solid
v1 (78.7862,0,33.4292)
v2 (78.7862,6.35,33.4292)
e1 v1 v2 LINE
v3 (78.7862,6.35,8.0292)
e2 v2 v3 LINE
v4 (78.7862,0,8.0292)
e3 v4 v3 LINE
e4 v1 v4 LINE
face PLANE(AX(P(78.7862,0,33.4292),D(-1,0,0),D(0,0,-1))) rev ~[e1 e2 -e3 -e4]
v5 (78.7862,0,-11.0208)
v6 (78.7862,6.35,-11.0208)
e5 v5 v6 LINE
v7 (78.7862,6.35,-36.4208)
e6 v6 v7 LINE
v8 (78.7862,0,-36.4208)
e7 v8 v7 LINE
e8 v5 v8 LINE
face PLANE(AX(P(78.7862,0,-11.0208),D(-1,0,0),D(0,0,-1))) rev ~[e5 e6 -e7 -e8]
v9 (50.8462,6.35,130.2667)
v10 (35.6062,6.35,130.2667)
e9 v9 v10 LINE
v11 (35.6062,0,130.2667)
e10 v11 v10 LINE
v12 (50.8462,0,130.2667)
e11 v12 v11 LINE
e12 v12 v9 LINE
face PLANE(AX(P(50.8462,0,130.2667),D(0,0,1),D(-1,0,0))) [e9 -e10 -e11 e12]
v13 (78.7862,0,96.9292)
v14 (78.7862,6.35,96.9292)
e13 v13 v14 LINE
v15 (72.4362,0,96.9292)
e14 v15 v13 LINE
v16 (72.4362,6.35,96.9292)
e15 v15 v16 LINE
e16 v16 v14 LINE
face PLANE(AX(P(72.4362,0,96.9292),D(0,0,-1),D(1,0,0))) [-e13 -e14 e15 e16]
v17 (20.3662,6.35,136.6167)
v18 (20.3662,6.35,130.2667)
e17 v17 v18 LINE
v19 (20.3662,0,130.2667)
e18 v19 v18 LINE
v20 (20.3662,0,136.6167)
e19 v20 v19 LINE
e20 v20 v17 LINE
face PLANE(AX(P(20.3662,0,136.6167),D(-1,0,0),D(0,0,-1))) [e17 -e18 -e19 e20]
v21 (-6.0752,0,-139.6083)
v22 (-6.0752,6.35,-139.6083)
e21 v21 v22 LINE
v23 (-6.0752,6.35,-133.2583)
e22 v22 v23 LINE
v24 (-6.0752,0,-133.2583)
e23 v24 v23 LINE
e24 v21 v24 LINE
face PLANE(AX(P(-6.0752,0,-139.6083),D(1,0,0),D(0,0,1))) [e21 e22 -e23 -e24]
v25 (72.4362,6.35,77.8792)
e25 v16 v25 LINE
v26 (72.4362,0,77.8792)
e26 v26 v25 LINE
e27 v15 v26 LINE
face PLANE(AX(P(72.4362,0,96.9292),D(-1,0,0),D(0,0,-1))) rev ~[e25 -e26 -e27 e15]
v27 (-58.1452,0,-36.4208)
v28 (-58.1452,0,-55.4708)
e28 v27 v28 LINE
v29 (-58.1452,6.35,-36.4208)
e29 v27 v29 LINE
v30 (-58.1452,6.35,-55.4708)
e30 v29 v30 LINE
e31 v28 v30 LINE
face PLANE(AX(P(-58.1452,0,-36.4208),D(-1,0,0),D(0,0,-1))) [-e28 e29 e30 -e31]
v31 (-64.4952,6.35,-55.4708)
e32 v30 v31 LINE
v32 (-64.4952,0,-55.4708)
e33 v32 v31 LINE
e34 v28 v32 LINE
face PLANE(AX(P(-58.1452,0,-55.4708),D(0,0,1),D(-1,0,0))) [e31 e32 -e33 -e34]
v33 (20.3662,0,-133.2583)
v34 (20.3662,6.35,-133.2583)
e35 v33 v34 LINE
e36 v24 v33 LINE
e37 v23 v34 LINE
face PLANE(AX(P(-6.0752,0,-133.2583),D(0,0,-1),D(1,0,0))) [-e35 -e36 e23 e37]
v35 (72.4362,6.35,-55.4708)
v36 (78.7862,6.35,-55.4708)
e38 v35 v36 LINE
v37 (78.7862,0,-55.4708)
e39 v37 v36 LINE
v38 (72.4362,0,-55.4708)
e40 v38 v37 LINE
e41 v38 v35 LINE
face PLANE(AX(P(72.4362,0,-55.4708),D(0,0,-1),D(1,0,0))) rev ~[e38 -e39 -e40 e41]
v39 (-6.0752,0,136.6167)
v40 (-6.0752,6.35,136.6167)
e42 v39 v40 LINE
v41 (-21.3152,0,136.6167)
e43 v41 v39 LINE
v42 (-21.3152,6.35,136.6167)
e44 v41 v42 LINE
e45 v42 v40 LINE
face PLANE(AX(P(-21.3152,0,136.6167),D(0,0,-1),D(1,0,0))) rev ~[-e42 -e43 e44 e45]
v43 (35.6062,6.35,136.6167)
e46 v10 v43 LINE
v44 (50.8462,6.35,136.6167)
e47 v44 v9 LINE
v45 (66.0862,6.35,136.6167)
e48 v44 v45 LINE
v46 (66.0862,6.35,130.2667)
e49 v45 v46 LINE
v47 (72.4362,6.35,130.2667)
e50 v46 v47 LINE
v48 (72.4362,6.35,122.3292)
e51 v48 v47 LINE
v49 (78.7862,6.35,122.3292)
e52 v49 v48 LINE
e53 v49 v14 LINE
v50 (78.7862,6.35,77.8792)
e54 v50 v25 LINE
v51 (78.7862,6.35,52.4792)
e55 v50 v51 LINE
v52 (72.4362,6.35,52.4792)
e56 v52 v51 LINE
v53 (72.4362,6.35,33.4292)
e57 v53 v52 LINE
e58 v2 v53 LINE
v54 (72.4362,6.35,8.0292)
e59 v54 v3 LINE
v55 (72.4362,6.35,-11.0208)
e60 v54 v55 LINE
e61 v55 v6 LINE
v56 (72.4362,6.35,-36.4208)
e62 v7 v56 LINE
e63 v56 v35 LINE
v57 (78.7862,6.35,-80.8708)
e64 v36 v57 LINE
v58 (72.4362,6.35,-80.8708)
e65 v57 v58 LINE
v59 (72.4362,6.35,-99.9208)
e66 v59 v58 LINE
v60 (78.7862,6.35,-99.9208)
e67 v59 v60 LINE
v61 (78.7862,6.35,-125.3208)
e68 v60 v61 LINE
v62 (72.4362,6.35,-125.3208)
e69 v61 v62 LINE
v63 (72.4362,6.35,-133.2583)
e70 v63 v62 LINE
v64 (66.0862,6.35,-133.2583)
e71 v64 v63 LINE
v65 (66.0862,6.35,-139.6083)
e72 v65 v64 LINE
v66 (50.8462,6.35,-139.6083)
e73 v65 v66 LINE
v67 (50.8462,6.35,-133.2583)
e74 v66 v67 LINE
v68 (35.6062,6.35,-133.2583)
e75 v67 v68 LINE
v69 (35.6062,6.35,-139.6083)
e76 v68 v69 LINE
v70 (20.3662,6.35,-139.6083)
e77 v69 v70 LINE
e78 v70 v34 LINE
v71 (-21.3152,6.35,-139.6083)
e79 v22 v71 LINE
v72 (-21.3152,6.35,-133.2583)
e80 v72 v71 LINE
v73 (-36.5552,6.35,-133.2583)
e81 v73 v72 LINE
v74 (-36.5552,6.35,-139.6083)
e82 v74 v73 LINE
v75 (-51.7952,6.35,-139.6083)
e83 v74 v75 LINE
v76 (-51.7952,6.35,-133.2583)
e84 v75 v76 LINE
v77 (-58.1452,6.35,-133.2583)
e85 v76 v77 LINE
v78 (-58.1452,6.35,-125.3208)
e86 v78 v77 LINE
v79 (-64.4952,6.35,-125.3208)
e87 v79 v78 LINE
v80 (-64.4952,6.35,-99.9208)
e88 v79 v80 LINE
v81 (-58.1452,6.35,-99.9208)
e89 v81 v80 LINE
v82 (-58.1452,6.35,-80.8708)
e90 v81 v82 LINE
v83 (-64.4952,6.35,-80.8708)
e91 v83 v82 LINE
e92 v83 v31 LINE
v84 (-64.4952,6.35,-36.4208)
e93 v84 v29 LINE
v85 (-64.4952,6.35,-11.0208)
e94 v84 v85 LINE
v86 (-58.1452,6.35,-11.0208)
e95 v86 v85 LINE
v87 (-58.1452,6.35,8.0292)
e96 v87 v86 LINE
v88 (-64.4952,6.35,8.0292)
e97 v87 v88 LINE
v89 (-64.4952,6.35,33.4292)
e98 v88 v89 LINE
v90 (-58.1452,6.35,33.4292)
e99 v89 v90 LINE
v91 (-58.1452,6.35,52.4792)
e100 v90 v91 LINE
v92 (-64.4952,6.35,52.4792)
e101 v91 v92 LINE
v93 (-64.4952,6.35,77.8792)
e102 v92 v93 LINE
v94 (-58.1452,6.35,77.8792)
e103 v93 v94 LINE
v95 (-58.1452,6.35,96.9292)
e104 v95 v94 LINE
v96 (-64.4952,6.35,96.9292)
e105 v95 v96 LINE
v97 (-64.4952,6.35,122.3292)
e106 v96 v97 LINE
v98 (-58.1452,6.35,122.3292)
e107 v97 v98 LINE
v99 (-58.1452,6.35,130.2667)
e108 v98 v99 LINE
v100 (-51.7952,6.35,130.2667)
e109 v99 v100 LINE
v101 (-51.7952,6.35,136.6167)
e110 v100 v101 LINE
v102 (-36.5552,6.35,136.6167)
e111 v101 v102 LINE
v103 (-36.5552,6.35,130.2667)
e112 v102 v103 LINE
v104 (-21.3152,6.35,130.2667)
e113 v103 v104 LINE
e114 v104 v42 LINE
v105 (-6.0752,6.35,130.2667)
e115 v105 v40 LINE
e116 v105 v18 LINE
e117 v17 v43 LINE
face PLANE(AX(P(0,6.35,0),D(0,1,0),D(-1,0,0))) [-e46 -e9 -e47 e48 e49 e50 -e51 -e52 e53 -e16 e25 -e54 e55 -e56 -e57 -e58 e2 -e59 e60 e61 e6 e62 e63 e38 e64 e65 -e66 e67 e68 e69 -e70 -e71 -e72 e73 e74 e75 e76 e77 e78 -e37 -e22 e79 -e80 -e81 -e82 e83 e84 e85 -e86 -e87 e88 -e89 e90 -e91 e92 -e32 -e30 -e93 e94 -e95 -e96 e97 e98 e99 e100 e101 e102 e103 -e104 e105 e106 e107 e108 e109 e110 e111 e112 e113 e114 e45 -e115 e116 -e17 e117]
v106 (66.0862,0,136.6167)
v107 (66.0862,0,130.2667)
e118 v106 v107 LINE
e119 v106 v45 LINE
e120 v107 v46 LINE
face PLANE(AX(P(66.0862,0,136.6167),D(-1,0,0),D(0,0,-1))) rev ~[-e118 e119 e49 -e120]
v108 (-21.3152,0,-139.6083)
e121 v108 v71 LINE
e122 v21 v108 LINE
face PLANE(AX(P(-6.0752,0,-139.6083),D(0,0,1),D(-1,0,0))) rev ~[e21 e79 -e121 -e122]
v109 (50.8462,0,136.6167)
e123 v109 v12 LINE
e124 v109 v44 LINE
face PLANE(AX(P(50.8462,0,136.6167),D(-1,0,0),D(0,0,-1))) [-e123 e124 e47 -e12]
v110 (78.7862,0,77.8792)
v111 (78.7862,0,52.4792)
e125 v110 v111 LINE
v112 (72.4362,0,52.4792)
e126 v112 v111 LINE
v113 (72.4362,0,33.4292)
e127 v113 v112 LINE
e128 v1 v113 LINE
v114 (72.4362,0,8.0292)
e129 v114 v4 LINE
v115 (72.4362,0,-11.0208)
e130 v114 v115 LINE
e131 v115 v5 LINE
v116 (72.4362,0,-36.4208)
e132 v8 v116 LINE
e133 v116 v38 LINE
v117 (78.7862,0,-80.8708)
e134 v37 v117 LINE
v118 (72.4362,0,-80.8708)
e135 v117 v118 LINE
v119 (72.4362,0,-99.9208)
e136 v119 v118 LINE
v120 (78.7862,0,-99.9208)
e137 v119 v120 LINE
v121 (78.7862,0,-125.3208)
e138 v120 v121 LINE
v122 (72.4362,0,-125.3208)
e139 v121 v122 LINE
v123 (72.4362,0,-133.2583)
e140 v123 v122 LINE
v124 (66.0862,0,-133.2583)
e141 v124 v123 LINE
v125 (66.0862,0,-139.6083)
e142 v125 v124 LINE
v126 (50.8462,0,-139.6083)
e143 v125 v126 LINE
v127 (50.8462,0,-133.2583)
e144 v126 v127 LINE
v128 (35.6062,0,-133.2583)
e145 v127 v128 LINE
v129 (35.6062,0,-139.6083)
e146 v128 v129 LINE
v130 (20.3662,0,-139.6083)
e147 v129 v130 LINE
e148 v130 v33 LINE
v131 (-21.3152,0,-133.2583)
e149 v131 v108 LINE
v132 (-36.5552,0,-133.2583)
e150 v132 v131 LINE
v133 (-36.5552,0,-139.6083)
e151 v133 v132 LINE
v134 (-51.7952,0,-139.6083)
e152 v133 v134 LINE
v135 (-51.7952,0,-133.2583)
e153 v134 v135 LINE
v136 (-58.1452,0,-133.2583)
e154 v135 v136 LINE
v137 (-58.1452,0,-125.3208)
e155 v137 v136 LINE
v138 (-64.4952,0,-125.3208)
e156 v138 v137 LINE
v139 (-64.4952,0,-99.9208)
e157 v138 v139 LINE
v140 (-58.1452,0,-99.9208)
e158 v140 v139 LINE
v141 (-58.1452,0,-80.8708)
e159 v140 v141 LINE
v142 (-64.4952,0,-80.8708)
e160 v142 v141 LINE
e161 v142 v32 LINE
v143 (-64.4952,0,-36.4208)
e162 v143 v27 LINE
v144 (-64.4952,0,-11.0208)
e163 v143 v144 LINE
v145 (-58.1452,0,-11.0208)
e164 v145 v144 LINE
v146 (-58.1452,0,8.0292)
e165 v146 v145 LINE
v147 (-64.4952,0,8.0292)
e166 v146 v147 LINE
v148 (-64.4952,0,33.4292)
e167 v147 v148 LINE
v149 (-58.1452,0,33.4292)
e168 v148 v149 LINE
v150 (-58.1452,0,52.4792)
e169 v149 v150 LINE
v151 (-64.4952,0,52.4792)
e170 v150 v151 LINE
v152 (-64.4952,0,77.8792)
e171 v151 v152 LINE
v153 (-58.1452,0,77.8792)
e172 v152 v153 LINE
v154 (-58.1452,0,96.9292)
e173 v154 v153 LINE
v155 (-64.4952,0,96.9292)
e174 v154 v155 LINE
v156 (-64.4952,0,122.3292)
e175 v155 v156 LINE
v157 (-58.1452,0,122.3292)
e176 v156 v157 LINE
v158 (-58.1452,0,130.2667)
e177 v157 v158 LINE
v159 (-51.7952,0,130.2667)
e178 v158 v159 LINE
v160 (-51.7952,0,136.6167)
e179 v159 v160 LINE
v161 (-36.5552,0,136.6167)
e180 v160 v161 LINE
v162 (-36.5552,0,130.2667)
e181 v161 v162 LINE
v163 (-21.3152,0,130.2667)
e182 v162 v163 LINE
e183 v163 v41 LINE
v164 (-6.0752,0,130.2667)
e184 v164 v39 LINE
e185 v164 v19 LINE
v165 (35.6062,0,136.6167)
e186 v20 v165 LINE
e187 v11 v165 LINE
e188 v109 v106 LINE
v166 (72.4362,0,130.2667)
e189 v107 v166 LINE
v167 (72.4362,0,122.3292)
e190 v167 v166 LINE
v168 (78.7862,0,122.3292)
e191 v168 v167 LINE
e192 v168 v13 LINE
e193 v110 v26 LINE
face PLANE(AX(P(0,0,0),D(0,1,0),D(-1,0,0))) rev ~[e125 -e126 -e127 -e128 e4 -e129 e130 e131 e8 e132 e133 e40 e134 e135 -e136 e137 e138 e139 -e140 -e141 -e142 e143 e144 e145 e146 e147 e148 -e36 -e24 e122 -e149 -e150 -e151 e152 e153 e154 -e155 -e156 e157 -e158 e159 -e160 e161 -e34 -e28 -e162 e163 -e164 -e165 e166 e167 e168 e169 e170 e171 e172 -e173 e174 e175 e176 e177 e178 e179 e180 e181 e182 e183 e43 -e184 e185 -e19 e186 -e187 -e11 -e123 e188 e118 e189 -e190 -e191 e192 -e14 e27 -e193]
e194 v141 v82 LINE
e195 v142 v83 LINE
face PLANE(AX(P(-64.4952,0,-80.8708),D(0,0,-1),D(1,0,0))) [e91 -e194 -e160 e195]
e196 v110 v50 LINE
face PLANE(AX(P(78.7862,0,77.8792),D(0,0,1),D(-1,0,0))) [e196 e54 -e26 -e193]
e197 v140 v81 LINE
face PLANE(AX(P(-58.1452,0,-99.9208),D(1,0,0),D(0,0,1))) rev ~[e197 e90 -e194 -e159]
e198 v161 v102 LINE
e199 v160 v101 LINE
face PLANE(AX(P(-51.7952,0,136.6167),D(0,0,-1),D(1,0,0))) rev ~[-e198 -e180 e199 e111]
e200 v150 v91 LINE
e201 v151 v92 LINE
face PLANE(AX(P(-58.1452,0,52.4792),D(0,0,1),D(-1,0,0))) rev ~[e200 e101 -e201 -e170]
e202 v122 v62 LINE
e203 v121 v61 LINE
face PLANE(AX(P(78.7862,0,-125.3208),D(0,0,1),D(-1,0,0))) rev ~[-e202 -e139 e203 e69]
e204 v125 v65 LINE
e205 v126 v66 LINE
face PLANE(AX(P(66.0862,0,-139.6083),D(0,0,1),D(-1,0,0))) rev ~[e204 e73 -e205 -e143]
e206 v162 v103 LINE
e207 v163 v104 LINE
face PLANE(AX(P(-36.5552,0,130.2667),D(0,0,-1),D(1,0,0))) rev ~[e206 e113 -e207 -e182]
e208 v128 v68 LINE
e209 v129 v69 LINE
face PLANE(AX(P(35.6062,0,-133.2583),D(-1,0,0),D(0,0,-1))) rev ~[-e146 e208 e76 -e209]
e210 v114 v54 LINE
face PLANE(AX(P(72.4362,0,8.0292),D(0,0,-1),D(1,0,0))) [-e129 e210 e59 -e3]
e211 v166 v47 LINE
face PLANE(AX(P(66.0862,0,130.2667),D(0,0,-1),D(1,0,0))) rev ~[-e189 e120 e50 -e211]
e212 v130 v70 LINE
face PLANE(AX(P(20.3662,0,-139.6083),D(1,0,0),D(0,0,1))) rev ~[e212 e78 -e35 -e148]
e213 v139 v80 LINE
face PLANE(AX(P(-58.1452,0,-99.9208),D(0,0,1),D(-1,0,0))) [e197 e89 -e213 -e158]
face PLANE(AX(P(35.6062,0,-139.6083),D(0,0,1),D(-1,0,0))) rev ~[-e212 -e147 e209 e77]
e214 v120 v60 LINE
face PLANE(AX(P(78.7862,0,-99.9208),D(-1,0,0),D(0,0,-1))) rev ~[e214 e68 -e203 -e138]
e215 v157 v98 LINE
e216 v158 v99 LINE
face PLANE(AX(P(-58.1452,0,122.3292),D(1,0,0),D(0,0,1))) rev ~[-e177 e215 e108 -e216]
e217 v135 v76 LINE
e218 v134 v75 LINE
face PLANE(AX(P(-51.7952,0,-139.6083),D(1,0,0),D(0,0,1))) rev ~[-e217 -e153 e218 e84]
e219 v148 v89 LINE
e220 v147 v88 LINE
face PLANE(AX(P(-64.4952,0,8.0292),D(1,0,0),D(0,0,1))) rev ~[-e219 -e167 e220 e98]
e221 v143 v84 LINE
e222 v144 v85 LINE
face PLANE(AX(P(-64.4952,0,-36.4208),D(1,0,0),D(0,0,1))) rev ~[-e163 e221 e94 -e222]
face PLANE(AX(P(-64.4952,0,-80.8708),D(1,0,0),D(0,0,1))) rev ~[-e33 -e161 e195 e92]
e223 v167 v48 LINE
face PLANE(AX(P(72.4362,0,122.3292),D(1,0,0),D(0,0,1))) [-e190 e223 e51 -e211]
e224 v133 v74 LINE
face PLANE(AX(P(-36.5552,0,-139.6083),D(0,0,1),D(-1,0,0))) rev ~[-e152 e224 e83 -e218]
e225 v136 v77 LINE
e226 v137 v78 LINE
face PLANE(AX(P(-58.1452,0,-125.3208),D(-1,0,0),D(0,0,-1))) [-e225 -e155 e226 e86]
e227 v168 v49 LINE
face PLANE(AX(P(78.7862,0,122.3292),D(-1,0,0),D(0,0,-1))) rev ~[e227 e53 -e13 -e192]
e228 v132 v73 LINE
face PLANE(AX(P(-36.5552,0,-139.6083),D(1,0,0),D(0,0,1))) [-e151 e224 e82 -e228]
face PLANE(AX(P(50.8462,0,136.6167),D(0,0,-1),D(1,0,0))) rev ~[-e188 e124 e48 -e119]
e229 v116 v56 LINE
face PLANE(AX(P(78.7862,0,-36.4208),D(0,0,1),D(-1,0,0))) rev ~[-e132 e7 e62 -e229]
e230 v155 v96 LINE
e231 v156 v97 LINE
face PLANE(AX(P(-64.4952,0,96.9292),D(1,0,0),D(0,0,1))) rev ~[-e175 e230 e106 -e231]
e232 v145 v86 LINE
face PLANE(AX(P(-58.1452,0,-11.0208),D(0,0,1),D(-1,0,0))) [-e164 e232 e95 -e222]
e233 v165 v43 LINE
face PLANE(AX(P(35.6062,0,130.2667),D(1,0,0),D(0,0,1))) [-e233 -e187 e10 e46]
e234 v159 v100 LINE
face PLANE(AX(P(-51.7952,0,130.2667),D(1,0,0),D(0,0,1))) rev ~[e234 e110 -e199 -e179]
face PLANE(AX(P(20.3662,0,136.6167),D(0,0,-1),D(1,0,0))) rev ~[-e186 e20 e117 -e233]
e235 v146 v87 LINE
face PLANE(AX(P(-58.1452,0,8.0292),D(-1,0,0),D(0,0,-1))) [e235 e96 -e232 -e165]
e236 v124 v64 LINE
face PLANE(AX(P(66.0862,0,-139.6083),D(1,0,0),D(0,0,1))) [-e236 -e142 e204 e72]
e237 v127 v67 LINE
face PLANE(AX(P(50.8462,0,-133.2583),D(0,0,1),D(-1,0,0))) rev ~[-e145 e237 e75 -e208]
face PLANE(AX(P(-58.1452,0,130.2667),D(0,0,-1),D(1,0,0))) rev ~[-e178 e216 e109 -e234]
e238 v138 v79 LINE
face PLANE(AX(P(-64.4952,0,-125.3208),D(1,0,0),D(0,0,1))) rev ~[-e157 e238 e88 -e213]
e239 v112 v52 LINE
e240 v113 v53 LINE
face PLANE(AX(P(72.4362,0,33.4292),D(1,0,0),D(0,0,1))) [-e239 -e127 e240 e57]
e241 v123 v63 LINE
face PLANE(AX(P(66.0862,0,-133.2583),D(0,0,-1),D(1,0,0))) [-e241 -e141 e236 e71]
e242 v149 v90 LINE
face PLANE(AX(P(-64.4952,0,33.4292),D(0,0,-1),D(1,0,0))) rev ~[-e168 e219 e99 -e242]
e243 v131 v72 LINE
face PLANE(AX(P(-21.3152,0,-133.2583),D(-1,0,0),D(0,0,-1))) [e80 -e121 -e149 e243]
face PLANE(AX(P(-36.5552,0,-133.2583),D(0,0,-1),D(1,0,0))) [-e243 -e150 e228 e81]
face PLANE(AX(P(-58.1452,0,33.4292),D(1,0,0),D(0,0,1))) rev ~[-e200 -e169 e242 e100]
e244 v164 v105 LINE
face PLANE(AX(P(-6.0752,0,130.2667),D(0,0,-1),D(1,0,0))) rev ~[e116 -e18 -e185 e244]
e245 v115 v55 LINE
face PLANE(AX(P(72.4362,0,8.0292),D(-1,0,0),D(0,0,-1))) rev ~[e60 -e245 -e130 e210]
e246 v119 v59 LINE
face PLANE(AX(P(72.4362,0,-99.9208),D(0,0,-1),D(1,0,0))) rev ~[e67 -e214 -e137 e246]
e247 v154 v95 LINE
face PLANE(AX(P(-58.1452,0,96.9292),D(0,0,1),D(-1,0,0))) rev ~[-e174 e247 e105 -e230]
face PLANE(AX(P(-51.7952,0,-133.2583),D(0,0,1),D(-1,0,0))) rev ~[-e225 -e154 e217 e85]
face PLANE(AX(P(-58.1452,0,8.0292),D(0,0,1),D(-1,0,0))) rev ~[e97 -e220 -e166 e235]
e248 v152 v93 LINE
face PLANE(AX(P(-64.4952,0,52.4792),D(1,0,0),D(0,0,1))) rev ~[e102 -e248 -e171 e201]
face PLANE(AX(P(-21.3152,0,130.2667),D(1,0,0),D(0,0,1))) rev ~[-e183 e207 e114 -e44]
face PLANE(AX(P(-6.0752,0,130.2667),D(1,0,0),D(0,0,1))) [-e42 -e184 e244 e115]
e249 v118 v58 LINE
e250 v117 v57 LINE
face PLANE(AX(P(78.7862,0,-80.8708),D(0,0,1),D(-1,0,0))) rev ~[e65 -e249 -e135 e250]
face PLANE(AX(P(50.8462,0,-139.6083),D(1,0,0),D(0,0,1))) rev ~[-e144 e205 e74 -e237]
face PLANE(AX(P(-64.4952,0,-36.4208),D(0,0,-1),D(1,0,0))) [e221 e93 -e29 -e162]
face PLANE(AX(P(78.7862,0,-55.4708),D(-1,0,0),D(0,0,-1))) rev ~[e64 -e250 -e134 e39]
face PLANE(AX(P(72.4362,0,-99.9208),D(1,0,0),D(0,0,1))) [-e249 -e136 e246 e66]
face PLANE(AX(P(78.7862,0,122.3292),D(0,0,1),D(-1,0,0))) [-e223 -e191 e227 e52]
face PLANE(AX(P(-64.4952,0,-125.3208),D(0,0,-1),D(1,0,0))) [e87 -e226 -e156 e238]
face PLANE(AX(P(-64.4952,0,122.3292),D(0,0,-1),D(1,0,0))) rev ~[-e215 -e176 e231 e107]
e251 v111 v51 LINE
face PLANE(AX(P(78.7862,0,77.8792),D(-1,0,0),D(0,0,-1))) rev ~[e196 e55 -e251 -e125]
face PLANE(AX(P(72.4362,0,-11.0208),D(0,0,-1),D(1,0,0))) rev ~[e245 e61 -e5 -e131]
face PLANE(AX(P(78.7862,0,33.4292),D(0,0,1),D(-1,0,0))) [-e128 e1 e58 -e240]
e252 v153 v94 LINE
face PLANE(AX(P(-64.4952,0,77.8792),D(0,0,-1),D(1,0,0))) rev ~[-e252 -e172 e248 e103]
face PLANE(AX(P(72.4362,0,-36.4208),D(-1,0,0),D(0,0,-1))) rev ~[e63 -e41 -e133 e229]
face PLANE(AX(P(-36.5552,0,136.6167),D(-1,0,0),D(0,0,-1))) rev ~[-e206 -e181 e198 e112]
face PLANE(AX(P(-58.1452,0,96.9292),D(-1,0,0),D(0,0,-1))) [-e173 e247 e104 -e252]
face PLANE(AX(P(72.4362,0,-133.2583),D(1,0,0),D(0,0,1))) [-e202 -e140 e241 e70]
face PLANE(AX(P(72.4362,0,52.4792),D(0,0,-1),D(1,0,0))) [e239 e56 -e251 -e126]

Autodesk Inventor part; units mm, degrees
ref_plane "YZ Plane" through (0, 0, 0) normal (1, 0, 0) x (0, 1, 0)
ref_plane "XZ Plane" through (0, 0, 0) normal (0, 1, 0) x (-1, 0, 0)
ref_plane "XY Plane" through (0, 0, 0) normal (0, 0, 1) x (1, 0, 0)
sketch "Sketch1" plane through (0, 0, 0) normal (0, 1, 0) x (-1, 0, 0)
  line L0 (36.5552, 136.6167) -> (36.5552, 130.2667)
  line L1 (21.3152, 130.2667) -> (21.3152, 136.6167)
  line L2 (58.1452, 96.9292) -> (64.4952, 96.9292)
  line L3 (64.4952, 77.8792) -> (58.1452, 77.8792)
  line L4 (58.1452, 52.4792) -> (64.4952, 52.4792)
  line L5 (64.4952, 33.4292) -> (58.1452, 33.4292)
  line L6 (58.1452, 8.0292) -> (64.4952, 8.0292)
  line L7 (64.4952, -1.4958) -> (-62.2762, -1.4958) construction
  line L8 (-7.1455, 136.6167) -> (-7.1455, -139.6083) construction
  line L9 (58.1452, 96.9292) -> (58.1452, 77.8792)
  line L10 (58.1452, 33.4292) -> (58.1452, 52.4792)
  line L11 (36.5552, 130.2667) -> (21.3152, 130.2667)
  line L12 (-50.8462, 136.6167) -> (-50.8462, 130.2667)
  line L13 (-20.3662, 136.6167) -> (-20.3662, 130.2667)
  line L14 (-35.6062, 130.2667) -> (-35.6062, 136.6167)
  line L15 (-78.7862, 122.3292) -> (-72.4362, 122.3292)
  line L16 (-72.4362, 96.9292) -> (-78.7862, 96.9292)
  line L17 (-78.7862, 77.8792) -> (-72.4362, 77.8792)
  line L18 (-72.4362, 52.4792) -> (-78.7862, 52.4792)
  line L19 (-78.7862, 33.4292) -> (-72.4362, 33.4292)
  line L20 (-72.4362, 8.0292) -> (-78.7862, 8.0292)
  line L21 (-72.4362, 96.9292) -> (-72.4362, 77.8792)
  line L22 (-72.4362, 33.4292) -> (-72.4362, 52.4792)
  line L23 (-50.8462, 130.2667) -> (-35.6062, 130.2667)
  line L24 (36.5552, -139.6083) -> (36.5552, -133.2583)
  line L25 (6.0752, -139.6083) -> (6.0752, -133.2583)
  line L26 (21.3152, -133.2583) -> (21.3152, -139.6083)
  line L27 (64.4952, -125.3208) -> (58.1452, -125.3208)
  line L28 (58.1452, -99.9208) -> (64.4952, -99.9208)
  line L29 (64.4952, -80.8708) -> (58.1452, -80.8708)
  line L30 (58.1452, -55.4708) -> (64.4952, -55.4708)
  line L31 (64.4952, -36.4208) -> (58.1452, -36.4208)
  line L32 (58.1452, -11.0208) -> (64.4952, -11.0208)
  line L33 (-7.1455, -139.6083) -> (-7.1455, 136.6167) construction
  line L34 (58.1452, -99.9208) -> (58.1452, -80.8708)
  line L35 (58.1452, -36.4208) -> (58.1452, -55.4708)
  line L36 (36.5552, -133.2583) -> (21.3152, -133.2583)
  line L37 (-72.4362, -55.4708) -> (-78.7862, -55.4708)
  line L38 (-78.7862, -80.8708) -> (-72.4362, -80.8708)
  line L39 (-72.4362, -99.9208) -> (-72.4362, -80.8708)
  line L40 (-50.8462, -139.6083) -> (-50.8462, -133.2583)
  line L41 (-20.3662, -139.6083) -> (-20.3662, -133.2583)
  line L42 (-35.6062, -133.2583) -> (-35.6062, -139.6083)
  line L43 (-72.4362, -99.9208) -> (-78.7862, -99.9208)
  line L44 (-78.7862, -125.3208) -> (-72.4362, -125.3208)
  line L45 (-50.8462, -133.2583) -> (-35.6062, -133.2583)
  line L46 (-72.4362, -36.4208) -> (-72.4362, -55.4708)
  line L47 (-78.7862, -36.4208) -> (-72.4362, -36.4208)
  line L48 (-72.4362, -11.0208) -> (-78.7862, -11.0208)
  line L49 (51.7952, 136.6167) -> (36.5552, 136.6167)
  line L50 (-20.3662, 136.6167) -> (-35.6062, 136.6167)
  line L51 (-50.8462, 136.6167) -> (-66.0862, 136.6167)
  line L52 (64.4952, 96.9292) -> (64.4952, 122.3292)
  line L53 (64.4952, 52.4792) -> (64.4952, 77.8792)
  line L54 (58.1452, 8.0292) -> (58.1452, -11.0208)
  line L55 (64.4952, 8.0292) -> (64.4952, 33.4292)
  line L56 (64.4952, -36.4208) -> (64.4952, -11.0208)
  line L57 (64.4952, -80.8708) -> (64.4952, -55.4708)
  line L58 (58.1452, -125.3208) -> (58.1452, -133.2583)
  line L59 (-72.4362, -133.2583) -> (-72.4362, -125.3208)
  line L60 (-72.4362, 8.0292) -> (-72.4362, -11.0208)
  line L61 (-72.4362, 122.3292) -> (-72.4362, 130.2667)
  line L62 (-78.7862, 122.3292) -> (-78.7862, 96.9292)
  line L63 (-78.7862, 77.8792) -> (-78.7862, 52.4792)
  line L64 (-78.7862, 33.4292) -> (-78.7862, 8.0292)
  line L65 (-78.7862, -11.0208) -> (-78.7862, -36.4208)
  line L66 (-78.7862, -55.4708) -> (-78.7862, -80.8708)
  line L67 (-78.7862, -99.9208) -> (-78.7862, -125.3208)
  line L68 (64.4952, -125.3208) -> (64.4952, -99.9208)
  line L69 (-66.0862, -139.6083) -> (-50.8462, -139.6083)
  line L70 (6.0752, -133.2583) -> (-20.3662, -133.2583)
  line L71 (-35.6062, -139.6083) -> (-20.3662, -139.6083)
  line L72 (6.0752, -139.6083) -> (21.3152, -139.6083)
  line L73 (36.5552, -139.6083) -> (51.7952, -139.6083)
  line L74 (58.1452, 130.2667) -> (51.7952, 130.2667)
  line L75 (51.7952, 130.2667) -> (51.7952, 136.6167)
  line L76 (-66.0862, 136.6167) -> (-66.0862, 130.2667)
  line L77 (-66.0862, -139.6083) -> (-66.0862, -133.2583)
  line L78 (51.7952, -139.6083) -> (51.7952, -133.2583)
  line L79 (6.0752, 130.2667) -> (-20.3662, 130.2667)
  line L80 (-66.0862, 130.2667) -> (-72.4362, 130.2667)
  line L81 (6.0752, 130.2667) -> (6.0752, 136.6167)
  line L82 (21.3152, 136.6167) -> (6.0752, 136.6167)
  line L83 (58.1452, 122.3292) -> (58.1452, 130.2667)
  line L84 (64.4952, 122.3292) -> (58.1452, 122.3292)
  line L85 (51.7952, -133.2583) -> (58.1452, -133.2583)
  line L86 (-66.0862, -133.2583) -> (-72.4362, -133.2583)
  point P0 (0, 0)
  point P1 (58.1452, 136.6167)
  dimension "d4" = 15.24
  dimension "d7" = 9.525
  dimension "d8" = 19.05
  dimension "d9" = 19.05
  dimension "d10" = 25.4
  dimension "d12" = 25.4
  dimension "d18" = 15.24
  dimension "d25" = 143.2814
  dimension "d27" = 6.35
  dimension "d28" = 15.24
  dimension "d29" = 6.35
  dimension "d30" = 15.24
extrude "Extrusion2" add sketch "Sketch1" along normal blind 6.35
equation "\"d4\" = d3"
equation "\"d8\" = 2 * d7"
equation "\"d9\" = d8"
equation "\"d10\" = d12"
equation "\"d12\" = d11"
equation "\"d30\" = d18"
equation "\"d3\" = 15.24"
equation "\"d11\" = 25.4"
properties part number "Bottom" material "UHMW, White"
